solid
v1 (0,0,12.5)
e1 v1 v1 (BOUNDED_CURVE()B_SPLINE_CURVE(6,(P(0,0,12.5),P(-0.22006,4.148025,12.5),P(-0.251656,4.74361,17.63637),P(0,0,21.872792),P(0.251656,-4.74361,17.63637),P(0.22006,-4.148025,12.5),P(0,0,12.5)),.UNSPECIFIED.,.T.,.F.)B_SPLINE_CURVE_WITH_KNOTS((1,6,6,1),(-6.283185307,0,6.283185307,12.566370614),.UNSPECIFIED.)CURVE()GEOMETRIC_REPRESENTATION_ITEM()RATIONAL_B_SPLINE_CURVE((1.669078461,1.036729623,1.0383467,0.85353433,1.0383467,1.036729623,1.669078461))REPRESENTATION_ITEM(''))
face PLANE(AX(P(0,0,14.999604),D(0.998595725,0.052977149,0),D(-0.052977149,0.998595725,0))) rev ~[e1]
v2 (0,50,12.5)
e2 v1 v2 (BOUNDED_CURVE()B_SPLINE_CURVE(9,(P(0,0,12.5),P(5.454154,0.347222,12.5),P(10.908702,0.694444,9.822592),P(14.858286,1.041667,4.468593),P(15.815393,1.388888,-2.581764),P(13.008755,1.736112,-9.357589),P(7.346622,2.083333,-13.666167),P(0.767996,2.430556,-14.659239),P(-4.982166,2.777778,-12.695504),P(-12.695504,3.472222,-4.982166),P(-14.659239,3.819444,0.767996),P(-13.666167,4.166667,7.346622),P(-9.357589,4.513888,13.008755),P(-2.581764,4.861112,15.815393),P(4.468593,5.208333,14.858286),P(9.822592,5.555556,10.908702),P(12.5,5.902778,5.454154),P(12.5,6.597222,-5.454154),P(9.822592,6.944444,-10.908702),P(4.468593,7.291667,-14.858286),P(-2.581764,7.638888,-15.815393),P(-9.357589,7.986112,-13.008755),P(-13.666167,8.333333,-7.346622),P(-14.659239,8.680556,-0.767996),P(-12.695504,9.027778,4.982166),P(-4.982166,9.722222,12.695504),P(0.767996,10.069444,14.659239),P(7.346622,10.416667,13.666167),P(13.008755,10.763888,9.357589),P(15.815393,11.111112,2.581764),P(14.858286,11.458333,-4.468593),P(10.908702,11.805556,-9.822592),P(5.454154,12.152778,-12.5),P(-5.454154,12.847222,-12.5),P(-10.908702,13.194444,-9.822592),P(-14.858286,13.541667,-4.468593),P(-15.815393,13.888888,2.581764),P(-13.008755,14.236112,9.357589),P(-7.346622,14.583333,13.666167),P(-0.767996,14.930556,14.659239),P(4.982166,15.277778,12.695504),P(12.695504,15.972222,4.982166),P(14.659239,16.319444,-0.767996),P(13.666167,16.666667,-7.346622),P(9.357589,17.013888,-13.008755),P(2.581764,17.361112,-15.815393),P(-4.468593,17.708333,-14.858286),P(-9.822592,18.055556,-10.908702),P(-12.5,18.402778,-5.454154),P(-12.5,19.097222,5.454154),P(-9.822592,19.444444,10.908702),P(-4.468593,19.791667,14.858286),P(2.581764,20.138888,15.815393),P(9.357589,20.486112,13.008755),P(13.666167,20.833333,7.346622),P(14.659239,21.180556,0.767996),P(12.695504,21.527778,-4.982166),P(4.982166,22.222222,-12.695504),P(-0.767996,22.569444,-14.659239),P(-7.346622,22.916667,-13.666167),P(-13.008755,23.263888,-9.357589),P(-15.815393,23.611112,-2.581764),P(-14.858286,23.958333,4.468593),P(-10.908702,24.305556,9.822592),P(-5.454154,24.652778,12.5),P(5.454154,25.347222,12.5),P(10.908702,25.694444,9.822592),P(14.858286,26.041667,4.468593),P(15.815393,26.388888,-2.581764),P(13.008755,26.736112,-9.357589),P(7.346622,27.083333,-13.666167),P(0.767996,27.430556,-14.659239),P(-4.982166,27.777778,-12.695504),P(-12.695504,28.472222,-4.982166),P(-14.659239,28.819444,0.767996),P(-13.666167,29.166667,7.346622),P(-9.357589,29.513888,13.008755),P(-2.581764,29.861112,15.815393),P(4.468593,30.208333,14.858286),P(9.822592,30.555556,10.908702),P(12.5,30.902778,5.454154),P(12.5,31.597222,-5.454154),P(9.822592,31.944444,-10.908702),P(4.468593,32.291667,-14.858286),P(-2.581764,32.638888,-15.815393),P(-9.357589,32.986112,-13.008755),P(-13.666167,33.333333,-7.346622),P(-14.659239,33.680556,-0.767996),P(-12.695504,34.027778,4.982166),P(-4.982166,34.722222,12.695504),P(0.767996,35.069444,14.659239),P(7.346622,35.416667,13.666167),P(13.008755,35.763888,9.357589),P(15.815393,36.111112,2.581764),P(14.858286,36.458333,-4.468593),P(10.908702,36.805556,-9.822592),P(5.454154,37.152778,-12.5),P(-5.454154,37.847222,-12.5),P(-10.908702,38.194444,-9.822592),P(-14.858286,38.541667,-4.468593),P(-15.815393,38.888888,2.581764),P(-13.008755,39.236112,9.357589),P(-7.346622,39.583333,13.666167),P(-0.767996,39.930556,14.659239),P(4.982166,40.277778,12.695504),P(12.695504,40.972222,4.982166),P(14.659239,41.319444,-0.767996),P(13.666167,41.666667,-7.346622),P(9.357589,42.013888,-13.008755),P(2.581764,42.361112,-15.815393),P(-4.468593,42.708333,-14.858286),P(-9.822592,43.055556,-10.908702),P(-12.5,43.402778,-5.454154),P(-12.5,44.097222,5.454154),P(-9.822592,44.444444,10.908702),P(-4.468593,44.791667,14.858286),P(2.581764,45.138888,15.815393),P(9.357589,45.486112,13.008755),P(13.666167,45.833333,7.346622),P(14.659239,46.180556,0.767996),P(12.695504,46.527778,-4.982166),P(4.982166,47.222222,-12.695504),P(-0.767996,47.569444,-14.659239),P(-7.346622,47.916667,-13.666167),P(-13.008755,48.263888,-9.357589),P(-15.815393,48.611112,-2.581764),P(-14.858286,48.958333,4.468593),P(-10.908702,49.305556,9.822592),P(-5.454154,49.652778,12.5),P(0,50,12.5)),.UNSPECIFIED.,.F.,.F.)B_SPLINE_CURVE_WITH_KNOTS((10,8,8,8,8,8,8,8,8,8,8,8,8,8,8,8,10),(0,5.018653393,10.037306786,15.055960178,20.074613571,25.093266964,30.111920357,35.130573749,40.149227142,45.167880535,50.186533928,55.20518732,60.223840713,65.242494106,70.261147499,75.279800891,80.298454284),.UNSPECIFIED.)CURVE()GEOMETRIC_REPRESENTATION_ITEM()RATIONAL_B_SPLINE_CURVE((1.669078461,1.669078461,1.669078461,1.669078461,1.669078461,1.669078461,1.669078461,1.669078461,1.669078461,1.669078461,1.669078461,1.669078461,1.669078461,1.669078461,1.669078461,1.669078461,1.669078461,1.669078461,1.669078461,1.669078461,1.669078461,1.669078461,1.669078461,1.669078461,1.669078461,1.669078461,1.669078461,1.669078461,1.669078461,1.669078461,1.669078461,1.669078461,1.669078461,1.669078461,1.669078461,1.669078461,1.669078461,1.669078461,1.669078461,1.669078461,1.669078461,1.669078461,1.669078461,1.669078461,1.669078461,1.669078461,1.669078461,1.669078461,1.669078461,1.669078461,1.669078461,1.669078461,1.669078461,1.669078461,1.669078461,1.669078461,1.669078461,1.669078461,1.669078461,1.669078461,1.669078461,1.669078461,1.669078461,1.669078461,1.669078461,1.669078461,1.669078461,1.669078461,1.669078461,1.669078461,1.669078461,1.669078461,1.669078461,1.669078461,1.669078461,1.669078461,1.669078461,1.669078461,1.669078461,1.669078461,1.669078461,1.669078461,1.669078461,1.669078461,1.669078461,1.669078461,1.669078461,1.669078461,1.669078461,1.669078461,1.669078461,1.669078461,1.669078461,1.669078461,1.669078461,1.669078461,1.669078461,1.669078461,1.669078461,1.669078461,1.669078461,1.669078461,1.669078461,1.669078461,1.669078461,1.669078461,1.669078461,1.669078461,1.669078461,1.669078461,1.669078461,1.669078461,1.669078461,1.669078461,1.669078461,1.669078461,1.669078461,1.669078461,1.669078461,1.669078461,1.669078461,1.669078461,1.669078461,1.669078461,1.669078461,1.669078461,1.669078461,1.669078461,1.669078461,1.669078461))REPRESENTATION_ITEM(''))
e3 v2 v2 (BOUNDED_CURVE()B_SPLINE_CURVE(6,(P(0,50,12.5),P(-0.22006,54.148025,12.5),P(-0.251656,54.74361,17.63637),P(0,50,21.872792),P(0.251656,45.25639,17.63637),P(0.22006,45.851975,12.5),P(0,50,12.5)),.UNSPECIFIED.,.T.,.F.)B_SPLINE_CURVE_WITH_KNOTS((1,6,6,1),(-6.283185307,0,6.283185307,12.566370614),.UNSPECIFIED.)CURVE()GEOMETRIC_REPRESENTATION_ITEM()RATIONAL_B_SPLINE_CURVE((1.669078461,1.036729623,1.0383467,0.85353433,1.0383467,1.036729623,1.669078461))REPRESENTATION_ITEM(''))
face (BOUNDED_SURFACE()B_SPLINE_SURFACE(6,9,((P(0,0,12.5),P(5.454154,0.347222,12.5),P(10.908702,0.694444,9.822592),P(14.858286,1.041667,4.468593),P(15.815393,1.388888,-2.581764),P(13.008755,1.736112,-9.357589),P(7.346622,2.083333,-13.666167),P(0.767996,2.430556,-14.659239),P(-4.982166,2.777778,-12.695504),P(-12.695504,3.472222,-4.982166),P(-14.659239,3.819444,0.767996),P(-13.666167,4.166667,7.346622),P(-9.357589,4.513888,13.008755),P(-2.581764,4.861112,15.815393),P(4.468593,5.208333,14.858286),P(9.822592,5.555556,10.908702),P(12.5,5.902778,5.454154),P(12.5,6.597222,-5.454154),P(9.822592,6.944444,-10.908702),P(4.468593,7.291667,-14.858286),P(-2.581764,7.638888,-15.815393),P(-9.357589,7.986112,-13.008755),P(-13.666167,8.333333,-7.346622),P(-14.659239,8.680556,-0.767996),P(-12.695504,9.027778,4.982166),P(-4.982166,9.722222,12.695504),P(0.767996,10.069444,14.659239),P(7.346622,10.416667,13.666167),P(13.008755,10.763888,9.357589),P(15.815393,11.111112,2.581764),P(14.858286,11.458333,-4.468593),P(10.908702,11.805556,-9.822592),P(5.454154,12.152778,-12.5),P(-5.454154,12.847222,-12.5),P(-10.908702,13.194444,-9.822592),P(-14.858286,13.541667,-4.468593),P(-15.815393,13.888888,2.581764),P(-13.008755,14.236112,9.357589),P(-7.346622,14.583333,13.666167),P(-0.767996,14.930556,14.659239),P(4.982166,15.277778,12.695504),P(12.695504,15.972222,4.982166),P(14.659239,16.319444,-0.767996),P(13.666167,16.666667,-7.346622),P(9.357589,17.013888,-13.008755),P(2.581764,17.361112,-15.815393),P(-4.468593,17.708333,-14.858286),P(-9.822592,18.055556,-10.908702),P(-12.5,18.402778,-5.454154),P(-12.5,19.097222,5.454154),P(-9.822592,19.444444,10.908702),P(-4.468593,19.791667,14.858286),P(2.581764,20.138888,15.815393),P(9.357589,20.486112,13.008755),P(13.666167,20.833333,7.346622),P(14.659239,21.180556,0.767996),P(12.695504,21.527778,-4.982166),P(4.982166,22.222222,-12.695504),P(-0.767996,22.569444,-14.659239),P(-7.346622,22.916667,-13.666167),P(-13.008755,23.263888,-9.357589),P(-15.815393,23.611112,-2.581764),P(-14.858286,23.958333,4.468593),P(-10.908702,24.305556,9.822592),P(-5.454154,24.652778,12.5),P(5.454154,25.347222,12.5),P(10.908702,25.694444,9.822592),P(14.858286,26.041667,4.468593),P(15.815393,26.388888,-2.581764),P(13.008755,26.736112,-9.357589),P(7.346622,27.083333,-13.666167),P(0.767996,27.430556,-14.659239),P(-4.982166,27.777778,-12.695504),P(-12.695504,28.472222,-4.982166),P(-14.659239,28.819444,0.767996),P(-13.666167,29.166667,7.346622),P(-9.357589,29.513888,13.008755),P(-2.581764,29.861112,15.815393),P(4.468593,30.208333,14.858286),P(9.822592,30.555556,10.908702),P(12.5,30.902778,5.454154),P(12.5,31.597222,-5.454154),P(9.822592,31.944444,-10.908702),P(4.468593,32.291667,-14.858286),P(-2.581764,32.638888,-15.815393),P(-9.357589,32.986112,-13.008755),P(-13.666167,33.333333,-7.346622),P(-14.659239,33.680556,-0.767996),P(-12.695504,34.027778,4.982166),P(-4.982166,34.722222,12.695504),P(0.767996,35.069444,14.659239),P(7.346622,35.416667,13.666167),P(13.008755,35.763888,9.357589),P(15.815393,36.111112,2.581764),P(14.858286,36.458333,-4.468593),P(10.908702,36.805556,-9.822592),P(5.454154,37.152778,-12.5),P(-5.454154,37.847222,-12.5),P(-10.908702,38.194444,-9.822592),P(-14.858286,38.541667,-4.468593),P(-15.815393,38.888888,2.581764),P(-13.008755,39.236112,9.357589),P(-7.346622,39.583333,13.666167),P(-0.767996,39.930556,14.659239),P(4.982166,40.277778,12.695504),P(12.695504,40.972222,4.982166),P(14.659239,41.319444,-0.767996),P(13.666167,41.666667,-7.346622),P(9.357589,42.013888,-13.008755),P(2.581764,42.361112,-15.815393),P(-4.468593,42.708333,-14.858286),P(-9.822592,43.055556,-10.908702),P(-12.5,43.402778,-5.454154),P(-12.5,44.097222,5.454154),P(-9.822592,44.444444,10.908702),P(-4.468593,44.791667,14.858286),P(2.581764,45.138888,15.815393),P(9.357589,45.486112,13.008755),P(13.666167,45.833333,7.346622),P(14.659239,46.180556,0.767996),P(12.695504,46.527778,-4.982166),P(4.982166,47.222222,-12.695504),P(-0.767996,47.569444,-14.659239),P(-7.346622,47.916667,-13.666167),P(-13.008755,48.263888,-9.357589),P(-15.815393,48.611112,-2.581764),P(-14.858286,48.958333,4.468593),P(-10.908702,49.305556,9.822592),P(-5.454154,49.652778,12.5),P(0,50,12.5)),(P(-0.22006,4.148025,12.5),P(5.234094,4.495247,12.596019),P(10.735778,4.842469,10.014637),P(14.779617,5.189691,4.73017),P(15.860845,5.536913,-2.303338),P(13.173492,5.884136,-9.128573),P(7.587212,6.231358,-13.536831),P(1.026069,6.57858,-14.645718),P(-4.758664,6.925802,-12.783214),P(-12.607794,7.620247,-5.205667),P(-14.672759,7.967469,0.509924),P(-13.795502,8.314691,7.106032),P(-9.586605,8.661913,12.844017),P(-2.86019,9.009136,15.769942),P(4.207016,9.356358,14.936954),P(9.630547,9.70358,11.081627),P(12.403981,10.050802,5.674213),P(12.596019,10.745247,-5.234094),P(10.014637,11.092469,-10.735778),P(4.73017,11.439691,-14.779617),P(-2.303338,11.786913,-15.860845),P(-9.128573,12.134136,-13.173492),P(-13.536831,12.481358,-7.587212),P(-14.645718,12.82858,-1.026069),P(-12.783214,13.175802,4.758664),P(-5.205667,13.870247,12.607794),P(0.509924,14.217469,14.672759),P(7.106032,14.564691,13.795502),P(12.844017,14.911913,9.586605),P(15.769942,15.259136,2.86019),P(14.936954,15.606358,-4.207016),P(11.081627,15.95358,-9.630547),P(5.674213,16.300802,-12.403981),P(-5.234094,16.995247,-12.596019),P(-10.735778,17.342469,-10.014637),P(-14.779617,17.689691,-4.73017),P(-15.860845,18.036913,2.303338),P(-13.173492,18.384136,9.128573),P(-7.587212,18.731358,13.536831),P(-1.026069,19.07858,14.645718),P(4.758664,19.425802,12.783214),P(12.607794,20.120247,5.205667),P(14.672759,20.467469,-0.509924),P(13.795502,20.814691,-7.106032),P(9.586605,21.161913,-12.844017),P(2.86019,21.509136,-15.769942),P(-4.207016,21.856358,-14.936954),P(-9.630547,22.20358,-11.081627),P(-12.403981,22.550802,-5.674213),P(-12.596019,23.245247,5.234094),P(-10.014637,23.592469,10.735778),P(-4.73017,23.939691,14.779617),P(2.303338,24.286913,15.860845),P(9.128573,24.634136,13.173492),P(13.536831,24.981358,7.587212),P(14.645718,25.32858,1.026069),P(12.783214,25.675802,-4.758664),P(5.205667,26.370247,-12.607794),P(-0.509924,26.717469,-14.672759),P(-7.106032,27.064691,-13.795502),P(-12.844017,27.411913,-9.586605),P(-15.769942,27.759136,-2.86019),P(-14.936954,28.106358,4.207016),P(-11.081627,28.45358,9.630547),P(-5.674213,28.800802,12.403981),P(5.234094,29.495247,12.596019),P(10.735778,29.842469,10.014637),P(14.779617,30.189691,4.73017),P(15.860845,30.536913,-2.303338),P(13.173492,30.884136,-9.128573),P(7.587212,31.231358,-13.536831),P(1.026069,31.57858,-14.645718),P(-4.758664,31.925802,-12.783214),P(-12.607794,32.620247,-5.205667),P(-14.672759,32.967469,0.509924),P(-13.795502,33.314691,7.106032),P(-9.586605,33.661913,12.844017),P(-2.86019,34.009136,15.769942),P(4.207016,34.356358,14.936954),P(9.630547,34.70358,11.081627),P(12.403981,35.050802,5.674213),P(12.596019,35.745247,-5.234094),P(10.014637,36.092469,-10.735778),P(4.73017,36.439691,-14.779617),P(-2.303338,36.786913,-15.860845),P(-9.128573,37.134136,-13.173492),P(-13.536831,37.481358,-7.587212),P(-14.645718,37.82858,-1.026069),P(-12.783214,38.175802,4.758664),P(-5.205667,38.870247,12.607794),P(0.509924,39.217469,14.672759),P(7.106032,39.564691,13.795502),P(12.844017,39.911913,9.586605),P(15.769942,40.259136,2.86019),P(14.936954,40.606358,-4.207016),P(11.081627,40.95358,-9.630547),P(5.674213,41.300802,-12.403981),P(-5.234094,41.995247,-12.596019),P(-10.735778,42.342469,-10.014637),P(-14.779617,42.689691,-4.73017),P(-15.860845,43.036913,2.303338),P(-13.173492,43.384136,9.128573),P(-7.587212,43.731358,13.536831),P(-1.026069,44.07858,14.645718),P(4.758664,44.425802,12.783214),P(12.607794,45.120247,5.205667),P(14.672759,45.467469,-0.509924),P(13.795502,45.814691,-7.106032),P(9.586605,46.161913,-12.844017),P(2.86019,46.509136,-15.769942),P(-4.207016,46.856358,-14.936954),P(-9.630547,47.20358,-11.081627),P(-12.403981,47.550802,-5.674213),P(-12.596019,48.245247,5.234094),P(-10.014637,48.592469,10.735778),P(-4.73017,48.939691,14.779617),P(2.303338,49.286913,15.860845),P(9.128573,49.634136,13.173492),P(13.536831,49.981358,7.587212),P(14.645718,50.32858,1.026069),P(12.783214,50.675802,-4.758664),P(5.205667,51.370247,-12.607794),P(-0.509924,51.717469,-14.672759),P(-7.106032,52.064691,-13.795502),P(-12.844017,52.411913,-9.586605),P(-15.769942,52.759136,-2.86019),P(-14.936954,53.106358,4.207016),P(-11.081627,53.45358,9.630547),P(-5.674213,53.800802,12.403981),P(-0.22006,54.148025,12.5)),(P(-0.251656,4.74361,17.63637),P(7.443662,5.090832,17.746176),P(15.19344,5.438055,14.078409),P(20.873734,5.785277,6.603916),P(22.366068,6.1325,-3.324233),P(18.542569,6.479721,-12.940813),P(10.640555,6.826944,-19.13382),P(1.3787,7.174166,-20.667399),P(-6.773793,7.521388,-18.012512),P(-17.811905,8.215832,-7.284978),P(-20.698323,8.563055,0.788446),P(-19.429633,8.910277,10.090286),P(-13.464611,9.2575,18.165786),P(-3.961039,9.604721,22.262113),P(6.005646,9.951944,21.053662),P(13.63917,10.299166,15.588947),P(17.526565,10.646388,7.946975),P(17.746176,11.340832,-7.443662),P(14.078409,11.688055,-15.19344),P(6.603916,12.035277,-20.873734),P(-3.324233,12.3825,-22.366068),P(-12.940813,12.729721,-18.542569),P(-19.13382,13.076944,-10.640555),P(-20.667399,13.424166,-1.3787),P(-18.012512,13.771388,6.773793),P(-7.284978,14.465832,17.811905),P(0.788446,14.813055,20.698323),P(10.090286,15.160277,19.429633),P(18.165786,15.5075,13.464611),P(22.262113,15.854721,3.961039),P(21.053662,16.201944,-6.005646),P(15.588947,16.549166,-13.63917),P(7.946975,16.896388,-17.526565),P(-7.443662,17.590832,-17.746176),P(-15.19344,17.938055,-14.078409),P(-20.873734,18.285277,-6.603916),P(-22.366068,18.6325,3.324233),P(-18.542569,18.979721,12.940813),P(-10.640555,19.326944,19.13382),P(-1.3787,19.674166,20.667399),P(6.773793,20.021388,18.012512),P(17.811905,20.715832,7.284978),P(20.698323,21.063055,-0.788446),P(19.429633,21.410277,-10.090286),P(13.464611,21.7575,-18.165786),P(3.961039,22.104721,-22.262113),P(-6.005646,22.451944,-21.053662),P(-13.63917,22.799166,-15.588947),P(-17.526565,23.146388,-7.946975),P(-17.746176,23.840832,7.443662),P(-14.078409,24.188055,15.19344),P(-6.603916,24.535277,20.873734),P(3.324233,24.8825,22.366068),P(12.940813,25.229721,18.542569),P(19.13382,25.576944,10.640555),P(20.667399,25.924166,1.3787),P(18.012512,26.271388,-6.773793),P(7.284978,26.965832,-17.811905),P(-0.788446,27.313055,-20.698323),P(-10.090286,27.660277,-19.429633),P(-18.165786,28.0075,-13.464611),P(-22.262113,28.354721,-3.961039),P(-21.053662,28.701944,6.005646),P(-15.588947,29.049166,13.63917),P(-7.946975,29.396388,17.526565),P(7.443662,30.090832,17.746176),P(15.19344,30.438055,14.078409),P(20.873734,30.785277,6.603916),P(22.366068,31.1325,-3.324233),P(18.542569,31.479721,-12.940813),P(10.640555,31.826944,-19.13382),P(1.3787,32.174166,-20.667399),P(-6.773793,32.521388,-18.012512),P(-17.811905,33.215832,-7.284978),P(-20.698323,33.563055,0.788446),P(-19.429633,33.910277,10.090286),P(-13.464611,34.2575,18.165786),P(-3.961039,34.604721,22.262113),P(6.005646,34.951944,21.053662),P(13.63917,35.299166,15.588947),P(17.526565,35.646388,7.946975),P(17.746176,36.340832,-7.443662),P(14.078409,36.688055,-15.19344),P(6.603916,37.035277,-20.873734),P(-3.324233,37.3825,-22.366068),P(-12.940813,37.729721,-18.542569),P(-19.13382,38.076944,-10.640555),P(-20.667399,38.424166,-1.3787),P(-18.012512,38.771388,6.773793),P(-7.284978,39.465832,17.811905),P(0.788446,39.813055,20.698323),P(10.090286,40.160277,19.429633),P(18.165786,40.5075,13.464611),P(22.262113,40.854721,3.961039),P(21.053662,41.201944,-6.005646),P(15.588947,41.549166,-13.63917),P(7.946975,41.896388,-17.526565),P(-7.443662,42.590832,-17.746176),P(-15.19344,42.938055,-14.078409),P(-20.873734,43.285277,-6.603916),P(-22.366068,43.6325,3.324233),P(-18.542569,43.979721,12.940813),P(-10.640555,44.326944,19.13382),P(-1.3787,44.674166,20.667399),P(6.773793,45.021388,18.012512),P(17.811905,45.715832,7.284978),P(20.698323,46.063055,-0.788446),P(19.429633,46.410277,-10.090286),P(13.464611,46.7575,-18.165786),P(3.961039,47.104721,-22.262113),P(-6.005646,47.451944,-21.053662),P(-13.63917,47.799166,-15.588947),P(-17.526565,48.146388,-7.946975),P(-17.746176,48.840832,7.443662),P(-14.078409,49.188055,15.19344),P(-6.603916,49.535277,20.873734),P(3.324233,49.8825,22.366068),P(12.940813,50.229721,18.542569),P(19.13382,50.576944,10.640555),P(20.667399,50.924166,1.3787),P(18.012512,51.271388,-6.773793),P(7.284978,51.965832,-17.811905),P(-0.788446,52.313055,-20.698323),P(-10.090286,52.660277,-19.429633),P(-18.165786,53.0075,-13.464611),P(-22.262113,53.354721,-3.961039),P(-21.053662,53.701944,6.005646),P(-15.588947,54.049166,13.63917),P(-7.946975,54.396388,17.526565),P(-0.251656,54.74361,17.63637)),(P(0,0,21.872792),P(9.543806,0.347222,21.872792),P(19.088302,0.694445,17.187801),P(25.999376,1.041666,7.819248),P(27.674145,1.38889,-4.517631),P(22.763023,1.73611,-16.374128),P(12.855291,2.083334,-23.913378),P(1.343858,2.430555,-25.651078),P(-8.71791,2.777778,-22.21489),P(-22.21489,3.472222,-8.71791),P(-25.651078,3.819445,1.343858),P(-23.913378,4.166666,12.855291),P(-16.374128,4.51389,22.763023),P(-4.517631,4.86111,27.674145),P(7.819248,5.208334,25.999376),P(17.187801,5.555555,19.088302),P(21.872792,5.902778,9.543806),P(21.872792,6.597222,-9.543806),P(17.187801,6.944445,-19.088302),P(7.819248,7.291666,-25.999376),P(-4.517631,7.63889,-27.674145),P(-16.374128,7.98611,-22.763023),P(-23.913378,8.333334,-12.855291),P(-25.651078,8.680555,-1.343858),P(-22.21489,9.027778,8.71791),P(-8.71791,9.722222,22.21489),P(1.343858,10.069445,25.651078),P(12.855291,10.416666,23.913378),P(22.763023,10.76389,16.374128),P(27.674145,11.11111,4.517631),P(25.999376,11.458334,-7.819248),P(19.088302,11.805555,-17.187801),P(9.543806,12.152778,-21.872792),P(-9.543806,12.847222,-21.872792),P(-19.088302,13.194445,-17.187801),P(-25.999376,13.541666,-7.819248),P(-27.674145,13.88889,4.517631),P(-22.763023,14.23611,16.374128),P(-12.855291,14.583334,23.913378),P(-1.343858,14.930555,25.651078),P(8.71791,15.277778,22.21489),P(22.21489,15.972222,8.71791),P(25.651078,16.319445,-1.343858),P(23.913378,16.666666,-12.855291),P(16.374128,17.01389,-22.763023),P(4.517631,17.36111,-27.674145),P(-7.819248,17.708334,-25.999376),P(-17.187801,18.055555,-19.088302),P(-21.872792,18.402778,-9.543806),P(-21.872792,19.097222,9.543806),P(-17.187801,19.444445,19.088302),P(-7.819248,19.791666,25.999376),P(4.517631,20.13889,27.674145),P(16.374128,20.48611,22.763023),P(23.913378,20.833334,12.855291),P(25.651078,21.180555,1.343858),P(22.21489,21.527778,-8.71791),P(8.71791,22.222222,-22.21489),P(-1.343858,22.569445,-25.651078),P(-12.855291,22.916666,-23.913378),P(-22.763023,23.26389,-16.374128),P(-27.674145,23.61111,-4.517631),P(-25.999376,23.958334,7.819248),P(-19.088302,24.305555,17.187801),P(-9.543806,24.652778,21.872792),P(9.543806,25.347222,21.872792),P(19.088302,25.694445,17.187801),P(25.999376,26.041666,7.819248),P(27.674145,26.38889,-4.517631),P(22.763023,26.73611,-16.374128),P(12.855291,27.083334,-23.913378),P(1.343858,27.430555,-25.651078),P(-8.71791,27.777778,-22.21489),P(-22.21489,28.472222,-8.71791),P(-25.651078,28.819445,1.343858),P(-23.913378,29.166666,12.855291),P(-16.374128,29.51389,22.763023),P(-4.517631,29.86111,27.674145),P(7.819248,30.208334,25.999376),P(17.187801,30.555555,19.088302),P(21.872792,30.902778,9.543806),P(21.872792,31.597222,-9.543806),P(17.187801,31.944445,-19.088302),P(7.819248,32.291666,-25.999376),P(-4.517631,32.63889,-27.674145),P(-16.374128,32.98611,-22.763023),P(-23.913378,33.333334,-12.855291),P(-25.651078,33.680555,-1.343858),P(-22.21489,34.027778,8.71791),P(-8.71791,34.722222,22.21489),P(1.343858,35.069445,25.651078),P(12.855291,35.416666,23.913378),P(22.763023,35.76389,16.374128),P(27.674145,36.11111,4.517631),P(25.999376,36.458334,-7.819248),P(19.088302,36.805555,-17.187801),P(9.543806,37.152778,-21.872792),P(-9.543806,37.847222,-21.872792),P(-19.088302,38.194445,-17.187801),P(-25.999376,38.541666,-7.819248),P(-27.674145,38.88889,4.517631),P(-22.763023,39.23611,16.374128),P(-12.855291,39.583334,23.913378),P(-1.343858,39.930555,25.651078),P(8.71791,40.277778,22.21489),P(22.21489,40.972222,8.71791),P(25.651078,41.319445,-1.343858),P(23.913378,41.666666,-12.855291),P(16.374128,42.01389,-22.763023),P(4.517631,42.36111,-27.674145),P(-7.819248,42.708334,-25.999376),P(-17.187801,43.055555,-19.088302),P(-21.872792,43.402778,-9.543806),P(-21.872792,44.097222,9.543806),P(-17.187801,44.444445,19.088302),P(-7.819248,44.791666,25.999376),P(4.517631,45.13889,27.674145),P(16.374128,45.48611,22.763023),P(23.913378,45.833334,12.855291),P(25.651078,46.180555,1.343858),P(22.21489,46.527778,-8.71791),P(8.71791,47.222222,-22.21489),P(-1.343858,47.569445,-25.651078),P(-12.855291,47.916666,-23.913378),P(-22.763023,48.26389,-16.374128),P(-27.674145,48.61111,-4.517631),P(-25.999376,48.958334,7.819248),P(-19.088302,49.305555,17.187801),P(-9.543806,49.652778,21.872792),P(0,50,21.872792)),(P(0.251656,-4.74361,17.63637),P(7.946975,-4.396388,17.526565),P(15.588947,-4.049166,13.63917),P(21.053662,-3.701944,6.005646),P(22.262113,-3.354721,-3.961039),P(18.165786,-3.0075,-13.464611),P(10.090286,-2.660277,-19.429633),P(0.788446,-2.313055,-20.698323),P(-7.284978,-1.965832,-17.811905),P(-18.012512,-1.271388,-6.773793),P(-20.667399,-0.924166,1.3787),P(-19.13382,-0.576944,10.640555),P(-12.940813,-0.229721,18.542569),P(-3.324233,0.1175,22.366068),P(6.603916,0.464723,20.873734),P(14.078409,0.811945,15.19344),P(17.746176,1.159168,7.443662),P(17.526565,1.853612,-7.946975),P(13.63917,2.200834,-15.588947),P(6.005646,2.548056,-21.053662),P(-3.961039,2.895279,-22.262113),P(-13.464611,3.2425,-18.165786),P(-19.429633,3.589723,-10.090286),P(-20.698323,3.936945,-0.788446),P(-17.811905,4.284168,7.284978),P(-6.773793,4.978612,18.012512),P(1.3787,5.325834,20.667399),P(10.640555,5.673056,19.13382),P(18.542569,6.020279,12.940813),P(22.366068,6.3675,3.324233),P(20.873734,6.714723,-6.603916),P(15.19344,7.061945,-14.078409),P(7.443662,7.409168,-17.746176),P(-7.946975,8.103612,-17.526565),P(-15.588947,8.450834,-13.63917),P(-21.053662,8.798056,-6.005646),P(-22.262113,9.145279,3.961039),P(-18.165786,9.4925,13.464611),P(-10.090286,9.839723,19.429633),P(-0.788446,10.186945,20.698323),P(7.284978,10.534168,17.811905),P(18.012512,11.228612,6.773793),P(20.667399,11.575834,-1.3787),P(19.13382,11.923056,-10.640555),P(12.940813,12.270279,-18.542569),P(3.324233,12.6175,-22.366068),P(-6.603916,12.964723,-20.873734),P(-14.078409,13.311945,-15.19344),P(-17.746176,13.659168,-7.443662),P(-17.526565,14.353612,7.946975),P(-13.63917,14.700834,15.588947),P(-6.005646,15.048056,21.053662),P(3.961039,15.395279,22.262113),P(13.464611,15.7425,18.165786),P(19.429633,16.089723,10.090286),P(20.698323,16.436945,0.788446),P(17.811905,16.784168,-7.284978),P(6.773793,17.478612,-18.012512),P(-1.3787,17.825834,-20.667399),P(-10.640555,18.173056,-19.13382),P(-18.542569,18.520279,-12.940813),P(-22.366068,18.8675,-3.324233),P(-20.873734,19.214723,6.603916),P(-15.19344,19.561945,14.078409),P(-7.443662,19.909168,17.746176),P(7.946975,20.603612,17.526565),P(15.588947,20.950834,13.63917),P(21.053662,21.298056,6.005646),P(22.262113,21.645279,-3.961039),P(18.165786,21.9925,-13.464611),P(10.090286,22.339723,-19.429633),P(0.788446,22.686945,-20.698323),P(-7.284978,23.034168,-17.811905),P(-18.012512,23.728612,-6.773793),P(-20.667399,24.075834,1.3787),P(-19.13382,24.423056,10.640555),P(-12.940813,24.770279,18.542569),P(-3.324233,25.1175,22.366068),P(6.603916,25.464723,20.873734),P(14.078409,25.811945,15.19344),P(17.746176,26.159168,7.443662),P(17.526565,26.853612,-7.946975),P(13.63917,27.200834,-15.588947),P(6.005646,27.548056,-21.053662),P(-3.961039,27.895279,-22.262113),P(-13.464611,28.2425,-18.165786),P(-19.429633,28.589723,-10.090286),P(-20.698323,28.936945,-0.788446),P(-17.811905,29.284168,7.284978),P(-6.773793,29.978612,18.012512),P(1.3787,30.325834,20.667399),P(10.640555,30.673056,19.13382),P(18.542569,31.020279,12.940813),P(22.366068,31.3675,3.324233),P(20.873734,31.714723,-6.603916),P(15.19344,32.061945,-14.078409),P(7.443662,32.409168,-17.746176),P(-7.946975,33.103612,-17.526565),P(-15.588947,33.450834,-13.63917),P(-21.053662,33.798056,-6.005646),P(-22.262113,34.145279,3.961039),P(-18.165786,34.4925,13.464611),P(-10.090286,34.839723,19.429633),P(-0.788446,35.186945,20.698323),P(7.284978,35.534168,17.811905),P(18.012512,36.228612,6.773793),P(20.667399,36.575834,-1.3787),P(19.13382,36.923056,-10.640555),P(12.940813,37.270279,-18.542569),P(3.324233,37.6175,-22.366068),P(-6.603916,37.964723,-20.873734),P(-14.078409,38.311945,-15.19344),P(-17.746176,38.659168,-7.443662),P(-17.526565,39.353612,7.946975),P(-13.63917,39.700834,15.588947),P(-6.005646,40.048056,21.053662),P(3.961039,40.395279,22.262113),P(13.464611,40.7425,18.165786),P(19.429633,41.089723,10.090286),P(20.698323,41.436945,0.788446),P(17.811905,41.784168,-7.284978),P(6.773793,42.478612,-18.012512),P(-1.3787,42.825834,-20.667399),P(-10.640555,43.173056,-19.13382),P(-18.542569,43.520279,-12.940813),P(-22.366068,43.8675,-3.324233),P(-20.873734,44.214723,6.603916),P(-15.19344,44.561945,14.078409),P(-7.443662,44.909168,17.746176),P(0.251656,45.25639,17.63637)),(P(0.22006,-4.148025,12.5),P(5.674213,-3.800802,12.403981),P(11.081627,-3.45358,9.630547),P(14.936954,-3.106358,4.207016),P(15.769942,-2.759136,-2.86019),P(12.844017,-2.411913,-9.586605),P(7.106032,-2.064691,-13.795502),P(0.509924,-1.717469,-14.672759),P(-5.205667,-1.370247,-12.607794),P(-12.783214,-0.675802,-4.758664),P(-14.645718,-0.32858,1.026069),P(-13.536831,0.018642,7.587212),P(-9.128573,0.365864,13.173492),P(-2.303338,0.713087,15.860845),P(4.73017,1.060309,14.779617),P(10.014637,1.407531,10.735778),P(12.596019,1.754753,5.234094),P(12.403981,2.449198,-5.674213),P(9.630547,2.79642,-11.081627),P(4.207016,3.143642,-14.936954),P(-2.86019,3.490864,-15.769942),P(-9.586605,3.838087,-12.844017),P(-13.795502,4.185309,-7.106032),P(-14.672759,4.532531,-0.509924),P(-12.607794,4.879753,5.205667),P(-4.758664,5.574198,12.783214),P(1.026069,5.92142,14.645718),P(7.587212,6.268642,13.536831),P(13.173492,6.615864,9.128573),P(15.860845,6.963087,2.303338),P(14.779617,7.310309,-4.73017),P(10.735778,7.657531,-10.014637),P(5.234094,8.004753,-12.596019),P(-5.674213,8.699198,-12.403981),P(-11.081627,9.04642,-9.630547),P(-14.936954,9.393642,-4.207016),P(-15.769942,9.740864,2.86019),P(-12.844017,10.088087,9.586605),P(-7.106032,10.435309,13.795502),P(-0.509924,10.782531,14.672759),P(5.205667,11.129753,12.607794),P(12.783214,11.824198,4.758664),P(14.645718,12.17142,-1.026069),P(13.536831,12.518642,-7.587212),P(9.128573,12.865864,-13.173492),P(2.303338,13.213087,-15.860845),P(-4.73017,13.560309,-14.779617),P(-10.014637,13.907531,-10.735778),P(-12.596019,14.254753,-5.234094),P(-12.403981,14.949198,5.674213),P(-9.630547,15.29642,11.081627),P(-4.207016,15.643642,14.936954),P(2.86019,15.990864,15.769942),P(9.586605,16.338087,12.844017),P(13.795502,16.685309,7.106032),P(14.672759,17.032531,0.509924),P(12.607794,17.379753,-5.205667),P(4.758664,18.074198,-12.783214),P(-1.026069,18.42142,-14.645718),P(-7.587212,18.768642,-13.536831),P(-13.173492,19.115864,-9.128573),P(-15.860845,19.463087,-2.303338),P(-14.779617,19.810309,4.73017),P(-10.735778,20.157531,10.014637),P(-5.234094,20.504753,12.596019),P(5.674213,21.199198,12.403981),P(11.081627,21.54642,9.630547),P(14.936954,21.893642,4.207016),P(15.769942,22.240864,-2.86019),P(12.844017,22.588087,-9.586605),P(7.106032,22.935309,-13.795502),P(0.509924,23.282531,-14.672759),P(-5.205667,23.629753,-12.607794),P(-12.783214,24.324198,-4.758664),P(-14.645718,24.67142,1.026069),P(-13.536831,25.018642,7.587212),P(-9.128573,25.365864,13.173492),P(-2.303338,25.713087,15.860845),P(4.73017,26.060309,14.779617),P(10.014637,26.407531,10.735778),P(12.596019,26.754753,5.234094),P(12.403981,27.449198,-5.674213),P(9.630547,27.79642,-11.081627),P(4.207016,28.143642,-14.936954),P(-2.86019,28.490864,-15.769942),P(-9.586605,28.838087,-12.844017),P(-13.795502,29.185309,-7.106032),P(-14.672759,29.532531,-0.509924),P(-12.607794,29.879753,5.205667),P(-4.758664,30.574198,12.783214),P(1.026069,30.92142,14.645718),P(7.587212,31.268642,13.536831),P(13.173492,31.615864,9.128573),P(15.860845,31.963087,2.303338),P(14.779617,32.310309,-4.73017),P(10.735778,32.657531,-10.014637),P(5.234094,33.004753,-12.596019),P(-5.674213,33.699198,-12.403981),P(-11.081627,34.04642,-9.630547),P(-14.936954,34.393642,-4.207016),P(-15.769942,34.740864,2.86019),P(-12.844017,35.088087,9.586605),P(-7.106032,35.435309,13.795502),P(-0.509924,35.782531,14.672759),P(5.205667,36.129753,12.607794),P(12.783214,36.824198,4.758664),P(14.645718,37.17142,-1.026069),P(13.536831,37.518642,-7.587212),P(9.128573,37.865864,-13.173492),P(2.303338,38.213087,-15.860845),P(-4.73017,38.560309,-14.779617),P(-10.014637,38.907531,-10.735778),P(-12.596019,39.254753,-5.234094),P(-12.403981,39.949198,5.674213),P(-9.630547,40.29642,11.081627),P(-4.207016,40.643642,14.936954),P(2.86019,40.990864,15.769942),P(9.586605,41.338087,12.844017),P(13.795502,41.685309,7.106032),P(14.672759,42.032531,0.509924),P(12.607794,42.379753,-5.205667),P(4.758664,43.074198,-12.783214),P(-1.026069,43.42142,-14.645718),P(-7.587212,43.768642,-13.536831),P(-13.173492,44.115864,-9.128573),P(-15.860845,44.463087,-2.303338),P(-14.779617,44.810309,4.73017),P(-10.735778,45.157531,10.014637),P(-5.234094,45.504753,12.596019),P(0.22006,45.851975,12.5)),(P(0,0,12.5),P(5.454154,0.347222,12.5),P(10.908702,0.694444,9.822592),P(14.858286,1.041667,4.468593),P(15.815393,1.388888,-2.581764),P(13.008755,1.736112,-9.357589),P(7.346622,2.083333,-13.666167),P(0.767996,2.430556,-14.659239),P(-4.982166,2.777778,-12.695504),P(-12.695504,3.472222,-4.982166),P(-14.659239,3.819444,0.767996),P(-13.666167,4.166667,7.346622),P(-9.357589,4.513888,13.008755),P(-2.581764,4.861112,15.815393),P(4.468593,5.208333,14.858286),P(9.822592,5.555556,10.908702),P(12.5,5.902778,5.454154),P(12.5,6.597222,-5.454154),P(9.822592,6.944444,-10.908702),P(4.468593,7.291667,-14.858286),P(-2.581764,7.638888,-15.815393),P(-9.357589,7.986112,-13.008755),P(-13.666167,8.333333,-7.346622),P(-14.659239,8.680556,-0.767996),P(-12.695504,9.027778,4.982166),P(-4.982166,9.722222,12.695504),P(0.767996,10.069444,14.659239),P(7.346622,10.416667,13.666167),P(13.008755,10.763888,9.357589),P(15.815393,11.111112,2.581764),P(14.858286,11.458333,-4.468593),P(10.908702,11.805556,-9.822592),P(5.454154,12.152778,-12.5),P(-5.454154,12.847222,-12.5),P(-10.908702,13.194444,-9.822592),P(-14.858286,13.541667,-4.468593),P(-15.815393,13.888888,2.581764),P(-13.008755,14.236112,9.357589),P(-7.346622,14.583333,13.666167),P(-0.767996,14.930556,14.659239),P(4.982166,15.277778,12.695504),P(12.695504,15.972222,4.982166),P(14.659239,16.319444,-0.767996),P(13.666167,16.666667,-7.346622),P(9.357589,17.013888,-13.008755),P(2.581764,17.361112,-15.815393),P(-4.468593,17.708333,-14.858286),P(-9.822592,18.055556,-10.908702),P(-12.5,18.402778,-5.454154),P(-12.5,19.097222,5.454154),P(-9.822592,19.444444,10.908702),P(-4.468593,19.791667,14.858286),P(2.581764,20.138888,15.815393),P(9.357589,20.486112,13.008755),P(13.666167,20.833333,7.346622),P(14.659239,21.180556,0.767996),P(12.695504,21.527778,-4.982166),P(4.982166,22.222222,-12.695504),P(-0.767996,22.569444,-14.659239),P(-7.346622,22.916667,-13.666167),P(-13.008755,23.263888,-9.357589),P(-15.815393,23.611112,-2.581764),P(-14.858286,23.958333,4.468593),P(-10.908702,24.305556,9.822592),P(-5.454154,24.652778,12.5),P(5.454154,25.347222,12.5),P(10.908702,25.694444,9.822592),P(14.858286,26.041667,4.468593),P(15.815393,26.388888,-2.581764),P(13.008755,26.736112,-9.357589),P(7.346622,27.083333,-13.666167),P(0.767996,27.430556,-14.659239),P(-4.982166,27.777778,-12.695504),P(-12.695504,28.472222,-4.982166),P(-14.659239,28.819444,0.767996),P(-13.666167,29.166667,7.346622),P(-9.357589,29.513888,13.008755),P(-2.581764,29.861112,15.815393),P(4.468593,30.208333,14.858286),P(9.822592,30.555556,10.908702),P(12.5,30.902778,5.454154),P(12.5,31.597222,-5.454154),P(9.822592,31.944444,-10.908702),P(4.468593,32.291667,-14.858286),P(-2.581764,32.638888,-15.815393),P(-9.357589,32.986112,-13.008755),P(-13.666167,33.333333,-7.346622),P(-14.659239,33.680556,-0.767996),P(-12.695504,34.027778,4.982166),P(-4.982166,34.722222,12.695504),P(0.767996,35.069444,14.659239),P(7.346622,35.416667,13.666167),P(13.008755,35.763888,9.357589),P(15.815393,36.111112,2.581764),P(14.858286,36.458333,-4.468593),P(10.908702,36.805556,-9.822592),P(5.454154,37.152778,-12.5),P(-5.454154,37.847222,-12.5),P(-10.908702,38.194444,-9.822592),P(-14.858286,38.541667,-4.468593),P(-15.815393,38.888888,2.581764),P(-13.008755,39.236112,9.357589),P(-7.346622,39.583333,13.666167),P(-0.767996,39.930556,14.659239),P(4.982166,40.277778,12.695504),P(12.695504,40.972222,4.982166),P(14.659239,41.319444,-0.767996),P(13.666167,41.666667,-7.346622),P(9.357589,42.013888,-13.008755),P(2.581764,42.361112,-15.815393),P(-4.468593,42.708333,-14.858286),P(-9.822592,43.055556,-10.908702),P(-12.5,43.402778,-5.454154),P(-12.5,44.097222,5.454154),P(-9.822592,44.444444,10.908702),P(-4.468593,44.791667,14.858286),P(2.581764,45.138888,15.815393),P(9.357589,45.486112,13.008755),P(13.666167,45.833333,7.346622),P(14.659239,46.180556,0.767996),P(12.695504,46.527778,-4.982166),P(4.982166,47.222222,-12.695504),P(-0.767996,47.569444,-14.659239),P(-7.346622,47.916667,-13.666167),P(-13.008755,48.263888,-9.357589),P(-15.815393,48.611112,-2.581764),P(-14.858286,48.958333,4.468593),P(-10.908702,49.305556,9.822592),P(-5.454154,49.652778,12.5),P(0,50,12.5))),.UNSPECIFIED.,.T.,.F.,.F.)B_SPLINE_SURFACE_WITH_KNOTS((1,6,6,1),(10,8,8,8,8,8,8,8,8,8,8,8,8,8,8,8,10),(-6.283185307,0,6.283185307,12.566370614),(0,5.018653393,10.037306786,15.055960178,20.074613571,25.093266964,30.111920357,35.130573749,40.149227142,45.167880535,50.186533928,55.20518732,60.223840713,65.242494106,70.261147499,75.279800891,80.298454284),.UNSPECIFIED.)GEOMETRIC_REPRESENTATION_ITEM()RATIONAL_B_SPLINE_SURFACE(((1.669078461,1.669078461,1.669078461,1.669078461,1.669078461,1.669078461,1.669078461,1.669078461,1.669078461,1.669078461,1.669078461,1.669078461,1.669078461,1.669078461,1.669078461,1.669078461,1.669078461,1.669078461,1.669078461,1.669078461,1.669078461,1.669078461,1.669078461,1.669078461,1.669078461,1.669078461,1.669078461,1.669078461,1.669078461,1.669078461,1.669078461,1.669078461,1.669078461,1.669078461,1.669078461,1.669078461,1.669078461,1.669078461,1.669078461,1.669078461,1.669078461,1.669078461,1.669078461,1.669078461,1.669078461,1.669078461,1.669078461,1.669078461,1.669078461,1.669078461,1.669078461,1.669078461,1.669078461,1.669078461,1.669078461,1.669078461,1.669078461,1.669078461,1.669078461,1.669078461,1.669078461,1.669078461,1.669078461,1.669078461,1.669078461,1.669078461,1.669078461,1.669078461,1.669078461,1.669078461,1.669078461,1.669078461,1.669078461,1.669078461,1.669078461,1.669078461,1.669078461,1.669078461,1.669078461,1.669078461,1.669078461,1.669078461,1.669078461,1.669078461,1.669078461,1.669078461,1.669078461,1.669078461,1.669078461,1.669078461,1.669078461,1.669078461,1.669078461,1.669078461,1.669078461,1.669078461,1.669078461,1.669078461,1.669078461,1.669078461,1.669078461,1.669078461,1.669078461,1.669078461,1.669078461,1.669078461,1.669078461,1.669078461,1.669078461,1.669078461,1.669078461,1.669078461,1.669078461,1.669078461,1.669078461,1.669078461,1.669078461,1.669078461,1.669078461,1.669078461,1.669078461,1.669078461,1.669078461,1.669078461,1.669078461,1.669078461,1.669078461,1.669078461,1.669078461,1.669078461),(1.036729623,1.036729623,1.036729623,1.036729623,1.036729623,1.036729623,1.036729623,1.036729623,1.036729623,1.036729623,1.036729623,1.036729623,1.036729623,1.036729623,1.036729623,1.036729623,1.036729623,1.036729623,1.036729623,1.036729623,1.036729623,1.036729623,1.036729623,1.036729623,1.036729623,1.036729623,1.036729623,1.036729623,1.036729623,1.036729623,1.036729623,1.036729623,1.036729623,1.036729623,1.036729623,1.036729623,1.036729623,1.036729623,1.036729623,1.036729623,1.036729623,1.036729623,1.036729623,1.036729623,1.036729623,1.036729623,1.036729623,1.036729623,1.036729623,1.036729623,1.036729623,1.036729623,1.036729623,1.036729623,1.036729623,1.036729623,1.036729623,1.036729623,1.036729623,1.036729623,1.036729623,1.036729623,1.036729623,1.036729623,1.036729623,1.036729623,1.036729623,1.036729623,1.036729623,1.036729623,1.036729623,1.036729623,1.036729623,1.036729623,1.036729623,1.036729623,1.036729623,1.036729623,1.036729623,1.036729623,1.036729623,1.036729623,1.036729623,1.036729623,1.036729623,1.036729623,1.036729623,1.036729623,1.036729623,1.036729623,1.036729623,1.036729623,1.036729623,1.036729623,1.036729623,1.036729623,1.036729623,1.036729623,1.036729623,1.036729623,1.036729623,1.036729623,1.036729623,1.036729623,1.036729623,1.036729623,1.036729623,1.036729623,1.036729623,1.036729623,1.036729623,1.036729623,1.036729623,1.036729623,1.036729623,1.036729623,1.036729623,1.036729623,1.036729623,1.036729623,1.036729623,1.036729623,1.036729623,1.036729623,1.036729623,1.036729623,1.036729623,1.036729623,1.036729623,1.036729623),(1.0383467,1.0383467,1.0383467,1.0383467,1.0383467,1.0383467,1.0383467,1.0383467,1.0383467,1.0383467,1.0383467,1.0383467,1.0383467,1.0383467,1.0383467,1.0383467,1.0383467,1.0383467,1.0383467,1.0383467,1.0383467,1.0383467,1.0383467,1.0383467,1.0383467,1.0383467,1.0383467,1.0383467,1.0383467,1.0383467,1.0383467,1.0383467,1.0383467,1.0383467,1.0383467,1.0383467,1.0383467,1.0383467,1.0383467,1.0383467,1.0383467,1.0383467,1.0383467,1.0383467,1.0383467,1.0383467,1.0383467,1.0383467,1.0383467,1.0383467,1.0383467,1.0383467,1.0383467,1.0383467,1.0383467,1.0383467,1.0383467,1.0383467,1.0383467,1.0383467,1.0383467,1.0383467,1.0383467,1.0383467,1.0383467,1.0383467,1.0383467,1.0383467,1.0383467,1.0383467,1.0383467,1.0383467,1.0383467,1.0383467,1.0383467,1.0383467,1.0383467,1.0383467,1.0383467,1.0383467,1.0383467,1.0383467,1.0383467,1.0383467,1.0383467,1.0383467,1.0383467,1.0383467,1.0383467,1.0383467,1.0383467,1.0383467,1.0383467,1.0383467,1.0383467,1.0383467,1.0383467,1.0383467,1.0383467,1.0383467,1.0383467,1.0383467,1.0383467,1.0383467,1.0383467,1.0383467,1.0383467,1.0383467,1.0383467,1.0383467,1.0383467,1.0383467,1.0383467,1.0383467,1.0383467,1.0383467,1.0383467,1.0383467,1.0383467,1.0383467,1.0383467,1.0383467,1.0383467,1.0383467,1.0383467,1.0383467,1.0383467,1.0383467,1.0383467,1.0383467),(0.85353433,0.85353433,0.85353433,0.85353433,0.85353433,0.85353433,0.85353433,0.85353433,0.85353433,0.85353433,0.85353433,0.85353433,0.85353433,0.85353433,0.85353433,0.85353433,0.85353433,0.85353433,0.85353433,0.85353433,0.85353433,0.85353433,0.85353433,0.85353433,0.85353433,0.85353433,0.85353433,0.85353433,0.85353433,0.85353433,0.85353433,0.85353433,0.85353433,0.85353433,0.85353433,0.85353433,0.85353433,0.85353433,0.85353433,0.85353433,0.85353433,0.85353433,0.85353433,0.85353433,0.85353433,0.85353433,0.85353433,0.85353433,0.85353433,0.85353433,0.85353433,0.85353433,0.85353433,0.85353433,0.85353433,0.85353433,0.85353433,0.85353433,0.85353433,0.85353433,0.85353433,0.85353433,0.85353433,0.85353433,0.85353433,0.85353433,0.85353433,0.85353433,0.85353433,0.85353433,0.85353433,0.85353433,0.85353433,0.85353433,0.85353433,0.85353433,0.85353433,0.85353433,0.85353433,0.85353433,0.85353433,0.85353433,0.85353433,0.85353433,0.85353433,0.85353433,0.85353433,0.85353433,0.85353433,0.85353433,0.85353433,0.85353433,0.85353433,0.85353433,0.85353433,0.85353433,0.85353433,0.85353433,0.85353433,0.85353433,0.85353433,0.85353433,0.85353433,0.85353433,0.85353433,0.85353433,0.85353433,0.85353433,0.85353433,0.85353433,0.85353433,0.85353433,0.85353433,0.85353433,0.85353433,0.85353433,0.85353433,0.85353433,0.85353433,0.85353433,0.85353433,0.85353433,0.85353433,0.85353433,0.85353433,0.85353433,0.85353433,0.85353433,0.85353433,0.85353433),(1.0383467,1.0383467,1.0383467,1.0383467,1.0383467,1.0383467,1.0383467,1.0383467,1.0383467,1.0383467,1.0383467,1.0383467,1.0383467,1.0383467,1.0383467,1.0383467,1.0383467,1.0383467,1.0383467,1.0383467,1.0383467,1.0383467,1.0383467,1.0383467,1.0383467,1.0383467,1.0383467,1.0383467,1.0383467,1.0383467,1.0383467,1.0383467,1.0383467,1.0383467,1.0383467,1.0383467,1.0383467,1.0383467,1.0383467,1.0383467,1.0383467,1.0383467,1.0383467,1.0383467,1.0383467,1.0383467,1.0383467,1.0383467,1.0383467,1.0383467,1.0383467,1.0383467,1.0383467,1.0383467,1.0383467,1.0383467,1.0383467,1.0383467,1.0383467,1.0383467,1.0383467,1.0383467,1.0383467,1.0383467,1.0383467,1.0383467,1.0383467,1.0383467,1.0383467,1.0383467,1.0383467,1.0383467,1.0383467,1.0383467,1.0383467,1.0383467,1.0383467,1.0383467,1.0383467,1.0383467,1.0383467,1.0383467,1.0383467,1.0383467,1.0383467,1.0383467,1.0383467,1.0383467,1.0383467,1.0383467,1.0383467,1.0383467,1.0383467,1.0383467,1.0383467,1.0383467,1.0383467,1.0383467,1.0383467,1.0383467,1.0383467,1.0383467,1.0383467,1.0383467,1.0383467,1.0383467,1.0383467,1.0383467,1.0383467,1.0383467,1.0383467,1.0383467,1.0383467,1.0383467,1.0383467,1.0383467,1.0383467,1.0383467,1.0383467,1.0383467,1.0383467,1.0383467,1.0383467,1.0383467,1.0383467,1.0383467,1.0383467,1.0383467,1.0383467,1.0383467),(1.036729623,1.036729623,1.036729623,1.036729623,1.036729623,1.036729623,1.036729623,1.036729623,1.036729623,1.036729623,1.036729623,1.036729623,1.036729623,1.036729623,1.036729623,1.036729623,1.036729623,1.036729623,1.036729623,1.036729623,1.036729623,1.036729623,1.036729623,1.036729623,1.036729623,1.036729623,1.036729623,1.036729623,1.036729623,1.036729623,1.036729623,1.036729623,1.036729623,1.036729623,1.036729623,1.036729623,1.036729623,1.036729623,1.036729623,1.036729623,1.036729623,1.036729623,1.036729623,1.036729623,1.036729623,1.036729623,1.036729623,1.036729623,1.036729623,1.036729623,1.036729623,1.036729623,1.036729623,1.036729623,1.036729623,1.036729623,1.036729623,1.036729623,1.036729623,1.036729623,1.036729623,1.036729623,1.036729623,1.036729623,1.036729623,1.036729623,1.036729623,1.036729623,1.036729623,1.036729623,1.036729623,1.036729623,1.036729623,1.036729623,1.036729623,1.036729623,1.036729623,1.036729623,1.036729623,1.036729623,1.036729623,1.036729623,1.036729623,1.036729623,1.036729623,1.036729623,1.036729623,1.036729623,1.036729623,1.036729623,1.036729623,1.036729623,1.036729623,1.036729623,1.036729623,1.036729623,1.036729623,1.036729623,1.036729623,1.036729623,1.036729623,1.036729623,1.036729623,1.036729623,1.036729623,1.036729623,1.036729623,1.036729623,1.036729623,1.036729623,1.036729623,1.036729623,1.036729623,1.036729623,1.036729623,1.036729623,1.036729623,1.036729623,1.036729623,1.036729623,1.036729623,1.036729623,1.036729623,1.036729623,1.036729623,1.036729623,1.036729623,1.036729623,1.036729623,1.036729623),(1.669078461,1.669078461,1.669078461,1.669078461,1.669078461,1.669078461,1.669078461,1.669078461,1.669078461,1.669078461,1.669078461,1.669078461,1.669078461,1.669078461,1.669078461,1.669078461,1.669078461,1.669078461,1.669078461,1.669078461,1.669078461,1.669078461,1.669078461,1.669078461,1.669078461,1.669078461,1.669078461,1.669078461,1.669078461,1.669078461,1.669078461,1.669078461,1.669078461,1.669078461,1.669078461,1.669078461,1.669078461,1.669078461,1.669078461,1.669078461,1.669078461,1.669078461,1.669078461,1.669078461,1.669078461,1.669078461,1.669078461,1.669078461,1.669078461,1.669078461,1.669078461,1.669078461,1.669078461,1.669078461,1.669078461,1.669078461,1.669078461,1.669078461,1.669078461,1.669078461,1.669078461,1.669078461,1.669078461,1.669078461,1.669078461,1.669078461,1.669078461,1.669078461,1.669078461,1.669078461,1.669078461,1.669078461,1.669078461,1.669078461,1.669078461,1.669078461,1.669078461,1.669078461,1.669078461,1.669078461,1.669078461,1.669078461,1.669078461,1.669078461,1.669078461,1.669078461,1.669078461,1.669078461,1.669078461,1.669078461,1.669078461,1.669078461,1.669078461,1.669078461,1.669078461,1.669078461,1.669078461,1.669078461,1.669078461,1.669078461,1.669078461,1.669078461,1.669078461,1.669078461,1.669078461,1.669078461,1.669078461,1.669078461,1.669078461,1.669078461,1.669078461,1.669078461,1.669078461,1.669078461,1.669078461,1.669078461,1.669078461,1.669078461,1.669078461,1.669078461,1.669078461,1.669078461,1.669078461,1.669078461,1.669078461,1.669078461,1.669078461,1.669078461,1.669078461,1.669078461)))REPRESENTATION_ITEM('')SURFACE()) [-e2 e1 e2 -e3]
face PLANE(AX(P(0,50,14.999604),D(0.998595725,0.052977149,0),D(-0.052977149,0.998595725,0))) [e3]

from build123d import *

# Parameters (mm, degrees)
SWEEP2_PITCH  = 5
SWEEP2_HEIGHT = 50
SWEEP2_RADIUS = 15
SKETCH4_R     = 2.5


with BuildPart() as part:
    # Sweep2: sweep along a helix
    with BuildLine() as sweep2_path:
        Helix(SWEEP2_PITCH, SWEEP2_HEIGHT, SWEEP2_RADIUS, center=(0, 0, 0), direction=(0, 1, 0))
    # Sketch4 → Sweep2 (sweep)
    with BuildSketch(Plane(origin=(0, 0, 15), x_dir=(0, 0, -1), z_dir=(0.998595725, 0.052977149, 0))):
        Circle(SKETCH4_R)
    sweep(path=sweep2_path.line, is_frenet=True)


solid = part.part
